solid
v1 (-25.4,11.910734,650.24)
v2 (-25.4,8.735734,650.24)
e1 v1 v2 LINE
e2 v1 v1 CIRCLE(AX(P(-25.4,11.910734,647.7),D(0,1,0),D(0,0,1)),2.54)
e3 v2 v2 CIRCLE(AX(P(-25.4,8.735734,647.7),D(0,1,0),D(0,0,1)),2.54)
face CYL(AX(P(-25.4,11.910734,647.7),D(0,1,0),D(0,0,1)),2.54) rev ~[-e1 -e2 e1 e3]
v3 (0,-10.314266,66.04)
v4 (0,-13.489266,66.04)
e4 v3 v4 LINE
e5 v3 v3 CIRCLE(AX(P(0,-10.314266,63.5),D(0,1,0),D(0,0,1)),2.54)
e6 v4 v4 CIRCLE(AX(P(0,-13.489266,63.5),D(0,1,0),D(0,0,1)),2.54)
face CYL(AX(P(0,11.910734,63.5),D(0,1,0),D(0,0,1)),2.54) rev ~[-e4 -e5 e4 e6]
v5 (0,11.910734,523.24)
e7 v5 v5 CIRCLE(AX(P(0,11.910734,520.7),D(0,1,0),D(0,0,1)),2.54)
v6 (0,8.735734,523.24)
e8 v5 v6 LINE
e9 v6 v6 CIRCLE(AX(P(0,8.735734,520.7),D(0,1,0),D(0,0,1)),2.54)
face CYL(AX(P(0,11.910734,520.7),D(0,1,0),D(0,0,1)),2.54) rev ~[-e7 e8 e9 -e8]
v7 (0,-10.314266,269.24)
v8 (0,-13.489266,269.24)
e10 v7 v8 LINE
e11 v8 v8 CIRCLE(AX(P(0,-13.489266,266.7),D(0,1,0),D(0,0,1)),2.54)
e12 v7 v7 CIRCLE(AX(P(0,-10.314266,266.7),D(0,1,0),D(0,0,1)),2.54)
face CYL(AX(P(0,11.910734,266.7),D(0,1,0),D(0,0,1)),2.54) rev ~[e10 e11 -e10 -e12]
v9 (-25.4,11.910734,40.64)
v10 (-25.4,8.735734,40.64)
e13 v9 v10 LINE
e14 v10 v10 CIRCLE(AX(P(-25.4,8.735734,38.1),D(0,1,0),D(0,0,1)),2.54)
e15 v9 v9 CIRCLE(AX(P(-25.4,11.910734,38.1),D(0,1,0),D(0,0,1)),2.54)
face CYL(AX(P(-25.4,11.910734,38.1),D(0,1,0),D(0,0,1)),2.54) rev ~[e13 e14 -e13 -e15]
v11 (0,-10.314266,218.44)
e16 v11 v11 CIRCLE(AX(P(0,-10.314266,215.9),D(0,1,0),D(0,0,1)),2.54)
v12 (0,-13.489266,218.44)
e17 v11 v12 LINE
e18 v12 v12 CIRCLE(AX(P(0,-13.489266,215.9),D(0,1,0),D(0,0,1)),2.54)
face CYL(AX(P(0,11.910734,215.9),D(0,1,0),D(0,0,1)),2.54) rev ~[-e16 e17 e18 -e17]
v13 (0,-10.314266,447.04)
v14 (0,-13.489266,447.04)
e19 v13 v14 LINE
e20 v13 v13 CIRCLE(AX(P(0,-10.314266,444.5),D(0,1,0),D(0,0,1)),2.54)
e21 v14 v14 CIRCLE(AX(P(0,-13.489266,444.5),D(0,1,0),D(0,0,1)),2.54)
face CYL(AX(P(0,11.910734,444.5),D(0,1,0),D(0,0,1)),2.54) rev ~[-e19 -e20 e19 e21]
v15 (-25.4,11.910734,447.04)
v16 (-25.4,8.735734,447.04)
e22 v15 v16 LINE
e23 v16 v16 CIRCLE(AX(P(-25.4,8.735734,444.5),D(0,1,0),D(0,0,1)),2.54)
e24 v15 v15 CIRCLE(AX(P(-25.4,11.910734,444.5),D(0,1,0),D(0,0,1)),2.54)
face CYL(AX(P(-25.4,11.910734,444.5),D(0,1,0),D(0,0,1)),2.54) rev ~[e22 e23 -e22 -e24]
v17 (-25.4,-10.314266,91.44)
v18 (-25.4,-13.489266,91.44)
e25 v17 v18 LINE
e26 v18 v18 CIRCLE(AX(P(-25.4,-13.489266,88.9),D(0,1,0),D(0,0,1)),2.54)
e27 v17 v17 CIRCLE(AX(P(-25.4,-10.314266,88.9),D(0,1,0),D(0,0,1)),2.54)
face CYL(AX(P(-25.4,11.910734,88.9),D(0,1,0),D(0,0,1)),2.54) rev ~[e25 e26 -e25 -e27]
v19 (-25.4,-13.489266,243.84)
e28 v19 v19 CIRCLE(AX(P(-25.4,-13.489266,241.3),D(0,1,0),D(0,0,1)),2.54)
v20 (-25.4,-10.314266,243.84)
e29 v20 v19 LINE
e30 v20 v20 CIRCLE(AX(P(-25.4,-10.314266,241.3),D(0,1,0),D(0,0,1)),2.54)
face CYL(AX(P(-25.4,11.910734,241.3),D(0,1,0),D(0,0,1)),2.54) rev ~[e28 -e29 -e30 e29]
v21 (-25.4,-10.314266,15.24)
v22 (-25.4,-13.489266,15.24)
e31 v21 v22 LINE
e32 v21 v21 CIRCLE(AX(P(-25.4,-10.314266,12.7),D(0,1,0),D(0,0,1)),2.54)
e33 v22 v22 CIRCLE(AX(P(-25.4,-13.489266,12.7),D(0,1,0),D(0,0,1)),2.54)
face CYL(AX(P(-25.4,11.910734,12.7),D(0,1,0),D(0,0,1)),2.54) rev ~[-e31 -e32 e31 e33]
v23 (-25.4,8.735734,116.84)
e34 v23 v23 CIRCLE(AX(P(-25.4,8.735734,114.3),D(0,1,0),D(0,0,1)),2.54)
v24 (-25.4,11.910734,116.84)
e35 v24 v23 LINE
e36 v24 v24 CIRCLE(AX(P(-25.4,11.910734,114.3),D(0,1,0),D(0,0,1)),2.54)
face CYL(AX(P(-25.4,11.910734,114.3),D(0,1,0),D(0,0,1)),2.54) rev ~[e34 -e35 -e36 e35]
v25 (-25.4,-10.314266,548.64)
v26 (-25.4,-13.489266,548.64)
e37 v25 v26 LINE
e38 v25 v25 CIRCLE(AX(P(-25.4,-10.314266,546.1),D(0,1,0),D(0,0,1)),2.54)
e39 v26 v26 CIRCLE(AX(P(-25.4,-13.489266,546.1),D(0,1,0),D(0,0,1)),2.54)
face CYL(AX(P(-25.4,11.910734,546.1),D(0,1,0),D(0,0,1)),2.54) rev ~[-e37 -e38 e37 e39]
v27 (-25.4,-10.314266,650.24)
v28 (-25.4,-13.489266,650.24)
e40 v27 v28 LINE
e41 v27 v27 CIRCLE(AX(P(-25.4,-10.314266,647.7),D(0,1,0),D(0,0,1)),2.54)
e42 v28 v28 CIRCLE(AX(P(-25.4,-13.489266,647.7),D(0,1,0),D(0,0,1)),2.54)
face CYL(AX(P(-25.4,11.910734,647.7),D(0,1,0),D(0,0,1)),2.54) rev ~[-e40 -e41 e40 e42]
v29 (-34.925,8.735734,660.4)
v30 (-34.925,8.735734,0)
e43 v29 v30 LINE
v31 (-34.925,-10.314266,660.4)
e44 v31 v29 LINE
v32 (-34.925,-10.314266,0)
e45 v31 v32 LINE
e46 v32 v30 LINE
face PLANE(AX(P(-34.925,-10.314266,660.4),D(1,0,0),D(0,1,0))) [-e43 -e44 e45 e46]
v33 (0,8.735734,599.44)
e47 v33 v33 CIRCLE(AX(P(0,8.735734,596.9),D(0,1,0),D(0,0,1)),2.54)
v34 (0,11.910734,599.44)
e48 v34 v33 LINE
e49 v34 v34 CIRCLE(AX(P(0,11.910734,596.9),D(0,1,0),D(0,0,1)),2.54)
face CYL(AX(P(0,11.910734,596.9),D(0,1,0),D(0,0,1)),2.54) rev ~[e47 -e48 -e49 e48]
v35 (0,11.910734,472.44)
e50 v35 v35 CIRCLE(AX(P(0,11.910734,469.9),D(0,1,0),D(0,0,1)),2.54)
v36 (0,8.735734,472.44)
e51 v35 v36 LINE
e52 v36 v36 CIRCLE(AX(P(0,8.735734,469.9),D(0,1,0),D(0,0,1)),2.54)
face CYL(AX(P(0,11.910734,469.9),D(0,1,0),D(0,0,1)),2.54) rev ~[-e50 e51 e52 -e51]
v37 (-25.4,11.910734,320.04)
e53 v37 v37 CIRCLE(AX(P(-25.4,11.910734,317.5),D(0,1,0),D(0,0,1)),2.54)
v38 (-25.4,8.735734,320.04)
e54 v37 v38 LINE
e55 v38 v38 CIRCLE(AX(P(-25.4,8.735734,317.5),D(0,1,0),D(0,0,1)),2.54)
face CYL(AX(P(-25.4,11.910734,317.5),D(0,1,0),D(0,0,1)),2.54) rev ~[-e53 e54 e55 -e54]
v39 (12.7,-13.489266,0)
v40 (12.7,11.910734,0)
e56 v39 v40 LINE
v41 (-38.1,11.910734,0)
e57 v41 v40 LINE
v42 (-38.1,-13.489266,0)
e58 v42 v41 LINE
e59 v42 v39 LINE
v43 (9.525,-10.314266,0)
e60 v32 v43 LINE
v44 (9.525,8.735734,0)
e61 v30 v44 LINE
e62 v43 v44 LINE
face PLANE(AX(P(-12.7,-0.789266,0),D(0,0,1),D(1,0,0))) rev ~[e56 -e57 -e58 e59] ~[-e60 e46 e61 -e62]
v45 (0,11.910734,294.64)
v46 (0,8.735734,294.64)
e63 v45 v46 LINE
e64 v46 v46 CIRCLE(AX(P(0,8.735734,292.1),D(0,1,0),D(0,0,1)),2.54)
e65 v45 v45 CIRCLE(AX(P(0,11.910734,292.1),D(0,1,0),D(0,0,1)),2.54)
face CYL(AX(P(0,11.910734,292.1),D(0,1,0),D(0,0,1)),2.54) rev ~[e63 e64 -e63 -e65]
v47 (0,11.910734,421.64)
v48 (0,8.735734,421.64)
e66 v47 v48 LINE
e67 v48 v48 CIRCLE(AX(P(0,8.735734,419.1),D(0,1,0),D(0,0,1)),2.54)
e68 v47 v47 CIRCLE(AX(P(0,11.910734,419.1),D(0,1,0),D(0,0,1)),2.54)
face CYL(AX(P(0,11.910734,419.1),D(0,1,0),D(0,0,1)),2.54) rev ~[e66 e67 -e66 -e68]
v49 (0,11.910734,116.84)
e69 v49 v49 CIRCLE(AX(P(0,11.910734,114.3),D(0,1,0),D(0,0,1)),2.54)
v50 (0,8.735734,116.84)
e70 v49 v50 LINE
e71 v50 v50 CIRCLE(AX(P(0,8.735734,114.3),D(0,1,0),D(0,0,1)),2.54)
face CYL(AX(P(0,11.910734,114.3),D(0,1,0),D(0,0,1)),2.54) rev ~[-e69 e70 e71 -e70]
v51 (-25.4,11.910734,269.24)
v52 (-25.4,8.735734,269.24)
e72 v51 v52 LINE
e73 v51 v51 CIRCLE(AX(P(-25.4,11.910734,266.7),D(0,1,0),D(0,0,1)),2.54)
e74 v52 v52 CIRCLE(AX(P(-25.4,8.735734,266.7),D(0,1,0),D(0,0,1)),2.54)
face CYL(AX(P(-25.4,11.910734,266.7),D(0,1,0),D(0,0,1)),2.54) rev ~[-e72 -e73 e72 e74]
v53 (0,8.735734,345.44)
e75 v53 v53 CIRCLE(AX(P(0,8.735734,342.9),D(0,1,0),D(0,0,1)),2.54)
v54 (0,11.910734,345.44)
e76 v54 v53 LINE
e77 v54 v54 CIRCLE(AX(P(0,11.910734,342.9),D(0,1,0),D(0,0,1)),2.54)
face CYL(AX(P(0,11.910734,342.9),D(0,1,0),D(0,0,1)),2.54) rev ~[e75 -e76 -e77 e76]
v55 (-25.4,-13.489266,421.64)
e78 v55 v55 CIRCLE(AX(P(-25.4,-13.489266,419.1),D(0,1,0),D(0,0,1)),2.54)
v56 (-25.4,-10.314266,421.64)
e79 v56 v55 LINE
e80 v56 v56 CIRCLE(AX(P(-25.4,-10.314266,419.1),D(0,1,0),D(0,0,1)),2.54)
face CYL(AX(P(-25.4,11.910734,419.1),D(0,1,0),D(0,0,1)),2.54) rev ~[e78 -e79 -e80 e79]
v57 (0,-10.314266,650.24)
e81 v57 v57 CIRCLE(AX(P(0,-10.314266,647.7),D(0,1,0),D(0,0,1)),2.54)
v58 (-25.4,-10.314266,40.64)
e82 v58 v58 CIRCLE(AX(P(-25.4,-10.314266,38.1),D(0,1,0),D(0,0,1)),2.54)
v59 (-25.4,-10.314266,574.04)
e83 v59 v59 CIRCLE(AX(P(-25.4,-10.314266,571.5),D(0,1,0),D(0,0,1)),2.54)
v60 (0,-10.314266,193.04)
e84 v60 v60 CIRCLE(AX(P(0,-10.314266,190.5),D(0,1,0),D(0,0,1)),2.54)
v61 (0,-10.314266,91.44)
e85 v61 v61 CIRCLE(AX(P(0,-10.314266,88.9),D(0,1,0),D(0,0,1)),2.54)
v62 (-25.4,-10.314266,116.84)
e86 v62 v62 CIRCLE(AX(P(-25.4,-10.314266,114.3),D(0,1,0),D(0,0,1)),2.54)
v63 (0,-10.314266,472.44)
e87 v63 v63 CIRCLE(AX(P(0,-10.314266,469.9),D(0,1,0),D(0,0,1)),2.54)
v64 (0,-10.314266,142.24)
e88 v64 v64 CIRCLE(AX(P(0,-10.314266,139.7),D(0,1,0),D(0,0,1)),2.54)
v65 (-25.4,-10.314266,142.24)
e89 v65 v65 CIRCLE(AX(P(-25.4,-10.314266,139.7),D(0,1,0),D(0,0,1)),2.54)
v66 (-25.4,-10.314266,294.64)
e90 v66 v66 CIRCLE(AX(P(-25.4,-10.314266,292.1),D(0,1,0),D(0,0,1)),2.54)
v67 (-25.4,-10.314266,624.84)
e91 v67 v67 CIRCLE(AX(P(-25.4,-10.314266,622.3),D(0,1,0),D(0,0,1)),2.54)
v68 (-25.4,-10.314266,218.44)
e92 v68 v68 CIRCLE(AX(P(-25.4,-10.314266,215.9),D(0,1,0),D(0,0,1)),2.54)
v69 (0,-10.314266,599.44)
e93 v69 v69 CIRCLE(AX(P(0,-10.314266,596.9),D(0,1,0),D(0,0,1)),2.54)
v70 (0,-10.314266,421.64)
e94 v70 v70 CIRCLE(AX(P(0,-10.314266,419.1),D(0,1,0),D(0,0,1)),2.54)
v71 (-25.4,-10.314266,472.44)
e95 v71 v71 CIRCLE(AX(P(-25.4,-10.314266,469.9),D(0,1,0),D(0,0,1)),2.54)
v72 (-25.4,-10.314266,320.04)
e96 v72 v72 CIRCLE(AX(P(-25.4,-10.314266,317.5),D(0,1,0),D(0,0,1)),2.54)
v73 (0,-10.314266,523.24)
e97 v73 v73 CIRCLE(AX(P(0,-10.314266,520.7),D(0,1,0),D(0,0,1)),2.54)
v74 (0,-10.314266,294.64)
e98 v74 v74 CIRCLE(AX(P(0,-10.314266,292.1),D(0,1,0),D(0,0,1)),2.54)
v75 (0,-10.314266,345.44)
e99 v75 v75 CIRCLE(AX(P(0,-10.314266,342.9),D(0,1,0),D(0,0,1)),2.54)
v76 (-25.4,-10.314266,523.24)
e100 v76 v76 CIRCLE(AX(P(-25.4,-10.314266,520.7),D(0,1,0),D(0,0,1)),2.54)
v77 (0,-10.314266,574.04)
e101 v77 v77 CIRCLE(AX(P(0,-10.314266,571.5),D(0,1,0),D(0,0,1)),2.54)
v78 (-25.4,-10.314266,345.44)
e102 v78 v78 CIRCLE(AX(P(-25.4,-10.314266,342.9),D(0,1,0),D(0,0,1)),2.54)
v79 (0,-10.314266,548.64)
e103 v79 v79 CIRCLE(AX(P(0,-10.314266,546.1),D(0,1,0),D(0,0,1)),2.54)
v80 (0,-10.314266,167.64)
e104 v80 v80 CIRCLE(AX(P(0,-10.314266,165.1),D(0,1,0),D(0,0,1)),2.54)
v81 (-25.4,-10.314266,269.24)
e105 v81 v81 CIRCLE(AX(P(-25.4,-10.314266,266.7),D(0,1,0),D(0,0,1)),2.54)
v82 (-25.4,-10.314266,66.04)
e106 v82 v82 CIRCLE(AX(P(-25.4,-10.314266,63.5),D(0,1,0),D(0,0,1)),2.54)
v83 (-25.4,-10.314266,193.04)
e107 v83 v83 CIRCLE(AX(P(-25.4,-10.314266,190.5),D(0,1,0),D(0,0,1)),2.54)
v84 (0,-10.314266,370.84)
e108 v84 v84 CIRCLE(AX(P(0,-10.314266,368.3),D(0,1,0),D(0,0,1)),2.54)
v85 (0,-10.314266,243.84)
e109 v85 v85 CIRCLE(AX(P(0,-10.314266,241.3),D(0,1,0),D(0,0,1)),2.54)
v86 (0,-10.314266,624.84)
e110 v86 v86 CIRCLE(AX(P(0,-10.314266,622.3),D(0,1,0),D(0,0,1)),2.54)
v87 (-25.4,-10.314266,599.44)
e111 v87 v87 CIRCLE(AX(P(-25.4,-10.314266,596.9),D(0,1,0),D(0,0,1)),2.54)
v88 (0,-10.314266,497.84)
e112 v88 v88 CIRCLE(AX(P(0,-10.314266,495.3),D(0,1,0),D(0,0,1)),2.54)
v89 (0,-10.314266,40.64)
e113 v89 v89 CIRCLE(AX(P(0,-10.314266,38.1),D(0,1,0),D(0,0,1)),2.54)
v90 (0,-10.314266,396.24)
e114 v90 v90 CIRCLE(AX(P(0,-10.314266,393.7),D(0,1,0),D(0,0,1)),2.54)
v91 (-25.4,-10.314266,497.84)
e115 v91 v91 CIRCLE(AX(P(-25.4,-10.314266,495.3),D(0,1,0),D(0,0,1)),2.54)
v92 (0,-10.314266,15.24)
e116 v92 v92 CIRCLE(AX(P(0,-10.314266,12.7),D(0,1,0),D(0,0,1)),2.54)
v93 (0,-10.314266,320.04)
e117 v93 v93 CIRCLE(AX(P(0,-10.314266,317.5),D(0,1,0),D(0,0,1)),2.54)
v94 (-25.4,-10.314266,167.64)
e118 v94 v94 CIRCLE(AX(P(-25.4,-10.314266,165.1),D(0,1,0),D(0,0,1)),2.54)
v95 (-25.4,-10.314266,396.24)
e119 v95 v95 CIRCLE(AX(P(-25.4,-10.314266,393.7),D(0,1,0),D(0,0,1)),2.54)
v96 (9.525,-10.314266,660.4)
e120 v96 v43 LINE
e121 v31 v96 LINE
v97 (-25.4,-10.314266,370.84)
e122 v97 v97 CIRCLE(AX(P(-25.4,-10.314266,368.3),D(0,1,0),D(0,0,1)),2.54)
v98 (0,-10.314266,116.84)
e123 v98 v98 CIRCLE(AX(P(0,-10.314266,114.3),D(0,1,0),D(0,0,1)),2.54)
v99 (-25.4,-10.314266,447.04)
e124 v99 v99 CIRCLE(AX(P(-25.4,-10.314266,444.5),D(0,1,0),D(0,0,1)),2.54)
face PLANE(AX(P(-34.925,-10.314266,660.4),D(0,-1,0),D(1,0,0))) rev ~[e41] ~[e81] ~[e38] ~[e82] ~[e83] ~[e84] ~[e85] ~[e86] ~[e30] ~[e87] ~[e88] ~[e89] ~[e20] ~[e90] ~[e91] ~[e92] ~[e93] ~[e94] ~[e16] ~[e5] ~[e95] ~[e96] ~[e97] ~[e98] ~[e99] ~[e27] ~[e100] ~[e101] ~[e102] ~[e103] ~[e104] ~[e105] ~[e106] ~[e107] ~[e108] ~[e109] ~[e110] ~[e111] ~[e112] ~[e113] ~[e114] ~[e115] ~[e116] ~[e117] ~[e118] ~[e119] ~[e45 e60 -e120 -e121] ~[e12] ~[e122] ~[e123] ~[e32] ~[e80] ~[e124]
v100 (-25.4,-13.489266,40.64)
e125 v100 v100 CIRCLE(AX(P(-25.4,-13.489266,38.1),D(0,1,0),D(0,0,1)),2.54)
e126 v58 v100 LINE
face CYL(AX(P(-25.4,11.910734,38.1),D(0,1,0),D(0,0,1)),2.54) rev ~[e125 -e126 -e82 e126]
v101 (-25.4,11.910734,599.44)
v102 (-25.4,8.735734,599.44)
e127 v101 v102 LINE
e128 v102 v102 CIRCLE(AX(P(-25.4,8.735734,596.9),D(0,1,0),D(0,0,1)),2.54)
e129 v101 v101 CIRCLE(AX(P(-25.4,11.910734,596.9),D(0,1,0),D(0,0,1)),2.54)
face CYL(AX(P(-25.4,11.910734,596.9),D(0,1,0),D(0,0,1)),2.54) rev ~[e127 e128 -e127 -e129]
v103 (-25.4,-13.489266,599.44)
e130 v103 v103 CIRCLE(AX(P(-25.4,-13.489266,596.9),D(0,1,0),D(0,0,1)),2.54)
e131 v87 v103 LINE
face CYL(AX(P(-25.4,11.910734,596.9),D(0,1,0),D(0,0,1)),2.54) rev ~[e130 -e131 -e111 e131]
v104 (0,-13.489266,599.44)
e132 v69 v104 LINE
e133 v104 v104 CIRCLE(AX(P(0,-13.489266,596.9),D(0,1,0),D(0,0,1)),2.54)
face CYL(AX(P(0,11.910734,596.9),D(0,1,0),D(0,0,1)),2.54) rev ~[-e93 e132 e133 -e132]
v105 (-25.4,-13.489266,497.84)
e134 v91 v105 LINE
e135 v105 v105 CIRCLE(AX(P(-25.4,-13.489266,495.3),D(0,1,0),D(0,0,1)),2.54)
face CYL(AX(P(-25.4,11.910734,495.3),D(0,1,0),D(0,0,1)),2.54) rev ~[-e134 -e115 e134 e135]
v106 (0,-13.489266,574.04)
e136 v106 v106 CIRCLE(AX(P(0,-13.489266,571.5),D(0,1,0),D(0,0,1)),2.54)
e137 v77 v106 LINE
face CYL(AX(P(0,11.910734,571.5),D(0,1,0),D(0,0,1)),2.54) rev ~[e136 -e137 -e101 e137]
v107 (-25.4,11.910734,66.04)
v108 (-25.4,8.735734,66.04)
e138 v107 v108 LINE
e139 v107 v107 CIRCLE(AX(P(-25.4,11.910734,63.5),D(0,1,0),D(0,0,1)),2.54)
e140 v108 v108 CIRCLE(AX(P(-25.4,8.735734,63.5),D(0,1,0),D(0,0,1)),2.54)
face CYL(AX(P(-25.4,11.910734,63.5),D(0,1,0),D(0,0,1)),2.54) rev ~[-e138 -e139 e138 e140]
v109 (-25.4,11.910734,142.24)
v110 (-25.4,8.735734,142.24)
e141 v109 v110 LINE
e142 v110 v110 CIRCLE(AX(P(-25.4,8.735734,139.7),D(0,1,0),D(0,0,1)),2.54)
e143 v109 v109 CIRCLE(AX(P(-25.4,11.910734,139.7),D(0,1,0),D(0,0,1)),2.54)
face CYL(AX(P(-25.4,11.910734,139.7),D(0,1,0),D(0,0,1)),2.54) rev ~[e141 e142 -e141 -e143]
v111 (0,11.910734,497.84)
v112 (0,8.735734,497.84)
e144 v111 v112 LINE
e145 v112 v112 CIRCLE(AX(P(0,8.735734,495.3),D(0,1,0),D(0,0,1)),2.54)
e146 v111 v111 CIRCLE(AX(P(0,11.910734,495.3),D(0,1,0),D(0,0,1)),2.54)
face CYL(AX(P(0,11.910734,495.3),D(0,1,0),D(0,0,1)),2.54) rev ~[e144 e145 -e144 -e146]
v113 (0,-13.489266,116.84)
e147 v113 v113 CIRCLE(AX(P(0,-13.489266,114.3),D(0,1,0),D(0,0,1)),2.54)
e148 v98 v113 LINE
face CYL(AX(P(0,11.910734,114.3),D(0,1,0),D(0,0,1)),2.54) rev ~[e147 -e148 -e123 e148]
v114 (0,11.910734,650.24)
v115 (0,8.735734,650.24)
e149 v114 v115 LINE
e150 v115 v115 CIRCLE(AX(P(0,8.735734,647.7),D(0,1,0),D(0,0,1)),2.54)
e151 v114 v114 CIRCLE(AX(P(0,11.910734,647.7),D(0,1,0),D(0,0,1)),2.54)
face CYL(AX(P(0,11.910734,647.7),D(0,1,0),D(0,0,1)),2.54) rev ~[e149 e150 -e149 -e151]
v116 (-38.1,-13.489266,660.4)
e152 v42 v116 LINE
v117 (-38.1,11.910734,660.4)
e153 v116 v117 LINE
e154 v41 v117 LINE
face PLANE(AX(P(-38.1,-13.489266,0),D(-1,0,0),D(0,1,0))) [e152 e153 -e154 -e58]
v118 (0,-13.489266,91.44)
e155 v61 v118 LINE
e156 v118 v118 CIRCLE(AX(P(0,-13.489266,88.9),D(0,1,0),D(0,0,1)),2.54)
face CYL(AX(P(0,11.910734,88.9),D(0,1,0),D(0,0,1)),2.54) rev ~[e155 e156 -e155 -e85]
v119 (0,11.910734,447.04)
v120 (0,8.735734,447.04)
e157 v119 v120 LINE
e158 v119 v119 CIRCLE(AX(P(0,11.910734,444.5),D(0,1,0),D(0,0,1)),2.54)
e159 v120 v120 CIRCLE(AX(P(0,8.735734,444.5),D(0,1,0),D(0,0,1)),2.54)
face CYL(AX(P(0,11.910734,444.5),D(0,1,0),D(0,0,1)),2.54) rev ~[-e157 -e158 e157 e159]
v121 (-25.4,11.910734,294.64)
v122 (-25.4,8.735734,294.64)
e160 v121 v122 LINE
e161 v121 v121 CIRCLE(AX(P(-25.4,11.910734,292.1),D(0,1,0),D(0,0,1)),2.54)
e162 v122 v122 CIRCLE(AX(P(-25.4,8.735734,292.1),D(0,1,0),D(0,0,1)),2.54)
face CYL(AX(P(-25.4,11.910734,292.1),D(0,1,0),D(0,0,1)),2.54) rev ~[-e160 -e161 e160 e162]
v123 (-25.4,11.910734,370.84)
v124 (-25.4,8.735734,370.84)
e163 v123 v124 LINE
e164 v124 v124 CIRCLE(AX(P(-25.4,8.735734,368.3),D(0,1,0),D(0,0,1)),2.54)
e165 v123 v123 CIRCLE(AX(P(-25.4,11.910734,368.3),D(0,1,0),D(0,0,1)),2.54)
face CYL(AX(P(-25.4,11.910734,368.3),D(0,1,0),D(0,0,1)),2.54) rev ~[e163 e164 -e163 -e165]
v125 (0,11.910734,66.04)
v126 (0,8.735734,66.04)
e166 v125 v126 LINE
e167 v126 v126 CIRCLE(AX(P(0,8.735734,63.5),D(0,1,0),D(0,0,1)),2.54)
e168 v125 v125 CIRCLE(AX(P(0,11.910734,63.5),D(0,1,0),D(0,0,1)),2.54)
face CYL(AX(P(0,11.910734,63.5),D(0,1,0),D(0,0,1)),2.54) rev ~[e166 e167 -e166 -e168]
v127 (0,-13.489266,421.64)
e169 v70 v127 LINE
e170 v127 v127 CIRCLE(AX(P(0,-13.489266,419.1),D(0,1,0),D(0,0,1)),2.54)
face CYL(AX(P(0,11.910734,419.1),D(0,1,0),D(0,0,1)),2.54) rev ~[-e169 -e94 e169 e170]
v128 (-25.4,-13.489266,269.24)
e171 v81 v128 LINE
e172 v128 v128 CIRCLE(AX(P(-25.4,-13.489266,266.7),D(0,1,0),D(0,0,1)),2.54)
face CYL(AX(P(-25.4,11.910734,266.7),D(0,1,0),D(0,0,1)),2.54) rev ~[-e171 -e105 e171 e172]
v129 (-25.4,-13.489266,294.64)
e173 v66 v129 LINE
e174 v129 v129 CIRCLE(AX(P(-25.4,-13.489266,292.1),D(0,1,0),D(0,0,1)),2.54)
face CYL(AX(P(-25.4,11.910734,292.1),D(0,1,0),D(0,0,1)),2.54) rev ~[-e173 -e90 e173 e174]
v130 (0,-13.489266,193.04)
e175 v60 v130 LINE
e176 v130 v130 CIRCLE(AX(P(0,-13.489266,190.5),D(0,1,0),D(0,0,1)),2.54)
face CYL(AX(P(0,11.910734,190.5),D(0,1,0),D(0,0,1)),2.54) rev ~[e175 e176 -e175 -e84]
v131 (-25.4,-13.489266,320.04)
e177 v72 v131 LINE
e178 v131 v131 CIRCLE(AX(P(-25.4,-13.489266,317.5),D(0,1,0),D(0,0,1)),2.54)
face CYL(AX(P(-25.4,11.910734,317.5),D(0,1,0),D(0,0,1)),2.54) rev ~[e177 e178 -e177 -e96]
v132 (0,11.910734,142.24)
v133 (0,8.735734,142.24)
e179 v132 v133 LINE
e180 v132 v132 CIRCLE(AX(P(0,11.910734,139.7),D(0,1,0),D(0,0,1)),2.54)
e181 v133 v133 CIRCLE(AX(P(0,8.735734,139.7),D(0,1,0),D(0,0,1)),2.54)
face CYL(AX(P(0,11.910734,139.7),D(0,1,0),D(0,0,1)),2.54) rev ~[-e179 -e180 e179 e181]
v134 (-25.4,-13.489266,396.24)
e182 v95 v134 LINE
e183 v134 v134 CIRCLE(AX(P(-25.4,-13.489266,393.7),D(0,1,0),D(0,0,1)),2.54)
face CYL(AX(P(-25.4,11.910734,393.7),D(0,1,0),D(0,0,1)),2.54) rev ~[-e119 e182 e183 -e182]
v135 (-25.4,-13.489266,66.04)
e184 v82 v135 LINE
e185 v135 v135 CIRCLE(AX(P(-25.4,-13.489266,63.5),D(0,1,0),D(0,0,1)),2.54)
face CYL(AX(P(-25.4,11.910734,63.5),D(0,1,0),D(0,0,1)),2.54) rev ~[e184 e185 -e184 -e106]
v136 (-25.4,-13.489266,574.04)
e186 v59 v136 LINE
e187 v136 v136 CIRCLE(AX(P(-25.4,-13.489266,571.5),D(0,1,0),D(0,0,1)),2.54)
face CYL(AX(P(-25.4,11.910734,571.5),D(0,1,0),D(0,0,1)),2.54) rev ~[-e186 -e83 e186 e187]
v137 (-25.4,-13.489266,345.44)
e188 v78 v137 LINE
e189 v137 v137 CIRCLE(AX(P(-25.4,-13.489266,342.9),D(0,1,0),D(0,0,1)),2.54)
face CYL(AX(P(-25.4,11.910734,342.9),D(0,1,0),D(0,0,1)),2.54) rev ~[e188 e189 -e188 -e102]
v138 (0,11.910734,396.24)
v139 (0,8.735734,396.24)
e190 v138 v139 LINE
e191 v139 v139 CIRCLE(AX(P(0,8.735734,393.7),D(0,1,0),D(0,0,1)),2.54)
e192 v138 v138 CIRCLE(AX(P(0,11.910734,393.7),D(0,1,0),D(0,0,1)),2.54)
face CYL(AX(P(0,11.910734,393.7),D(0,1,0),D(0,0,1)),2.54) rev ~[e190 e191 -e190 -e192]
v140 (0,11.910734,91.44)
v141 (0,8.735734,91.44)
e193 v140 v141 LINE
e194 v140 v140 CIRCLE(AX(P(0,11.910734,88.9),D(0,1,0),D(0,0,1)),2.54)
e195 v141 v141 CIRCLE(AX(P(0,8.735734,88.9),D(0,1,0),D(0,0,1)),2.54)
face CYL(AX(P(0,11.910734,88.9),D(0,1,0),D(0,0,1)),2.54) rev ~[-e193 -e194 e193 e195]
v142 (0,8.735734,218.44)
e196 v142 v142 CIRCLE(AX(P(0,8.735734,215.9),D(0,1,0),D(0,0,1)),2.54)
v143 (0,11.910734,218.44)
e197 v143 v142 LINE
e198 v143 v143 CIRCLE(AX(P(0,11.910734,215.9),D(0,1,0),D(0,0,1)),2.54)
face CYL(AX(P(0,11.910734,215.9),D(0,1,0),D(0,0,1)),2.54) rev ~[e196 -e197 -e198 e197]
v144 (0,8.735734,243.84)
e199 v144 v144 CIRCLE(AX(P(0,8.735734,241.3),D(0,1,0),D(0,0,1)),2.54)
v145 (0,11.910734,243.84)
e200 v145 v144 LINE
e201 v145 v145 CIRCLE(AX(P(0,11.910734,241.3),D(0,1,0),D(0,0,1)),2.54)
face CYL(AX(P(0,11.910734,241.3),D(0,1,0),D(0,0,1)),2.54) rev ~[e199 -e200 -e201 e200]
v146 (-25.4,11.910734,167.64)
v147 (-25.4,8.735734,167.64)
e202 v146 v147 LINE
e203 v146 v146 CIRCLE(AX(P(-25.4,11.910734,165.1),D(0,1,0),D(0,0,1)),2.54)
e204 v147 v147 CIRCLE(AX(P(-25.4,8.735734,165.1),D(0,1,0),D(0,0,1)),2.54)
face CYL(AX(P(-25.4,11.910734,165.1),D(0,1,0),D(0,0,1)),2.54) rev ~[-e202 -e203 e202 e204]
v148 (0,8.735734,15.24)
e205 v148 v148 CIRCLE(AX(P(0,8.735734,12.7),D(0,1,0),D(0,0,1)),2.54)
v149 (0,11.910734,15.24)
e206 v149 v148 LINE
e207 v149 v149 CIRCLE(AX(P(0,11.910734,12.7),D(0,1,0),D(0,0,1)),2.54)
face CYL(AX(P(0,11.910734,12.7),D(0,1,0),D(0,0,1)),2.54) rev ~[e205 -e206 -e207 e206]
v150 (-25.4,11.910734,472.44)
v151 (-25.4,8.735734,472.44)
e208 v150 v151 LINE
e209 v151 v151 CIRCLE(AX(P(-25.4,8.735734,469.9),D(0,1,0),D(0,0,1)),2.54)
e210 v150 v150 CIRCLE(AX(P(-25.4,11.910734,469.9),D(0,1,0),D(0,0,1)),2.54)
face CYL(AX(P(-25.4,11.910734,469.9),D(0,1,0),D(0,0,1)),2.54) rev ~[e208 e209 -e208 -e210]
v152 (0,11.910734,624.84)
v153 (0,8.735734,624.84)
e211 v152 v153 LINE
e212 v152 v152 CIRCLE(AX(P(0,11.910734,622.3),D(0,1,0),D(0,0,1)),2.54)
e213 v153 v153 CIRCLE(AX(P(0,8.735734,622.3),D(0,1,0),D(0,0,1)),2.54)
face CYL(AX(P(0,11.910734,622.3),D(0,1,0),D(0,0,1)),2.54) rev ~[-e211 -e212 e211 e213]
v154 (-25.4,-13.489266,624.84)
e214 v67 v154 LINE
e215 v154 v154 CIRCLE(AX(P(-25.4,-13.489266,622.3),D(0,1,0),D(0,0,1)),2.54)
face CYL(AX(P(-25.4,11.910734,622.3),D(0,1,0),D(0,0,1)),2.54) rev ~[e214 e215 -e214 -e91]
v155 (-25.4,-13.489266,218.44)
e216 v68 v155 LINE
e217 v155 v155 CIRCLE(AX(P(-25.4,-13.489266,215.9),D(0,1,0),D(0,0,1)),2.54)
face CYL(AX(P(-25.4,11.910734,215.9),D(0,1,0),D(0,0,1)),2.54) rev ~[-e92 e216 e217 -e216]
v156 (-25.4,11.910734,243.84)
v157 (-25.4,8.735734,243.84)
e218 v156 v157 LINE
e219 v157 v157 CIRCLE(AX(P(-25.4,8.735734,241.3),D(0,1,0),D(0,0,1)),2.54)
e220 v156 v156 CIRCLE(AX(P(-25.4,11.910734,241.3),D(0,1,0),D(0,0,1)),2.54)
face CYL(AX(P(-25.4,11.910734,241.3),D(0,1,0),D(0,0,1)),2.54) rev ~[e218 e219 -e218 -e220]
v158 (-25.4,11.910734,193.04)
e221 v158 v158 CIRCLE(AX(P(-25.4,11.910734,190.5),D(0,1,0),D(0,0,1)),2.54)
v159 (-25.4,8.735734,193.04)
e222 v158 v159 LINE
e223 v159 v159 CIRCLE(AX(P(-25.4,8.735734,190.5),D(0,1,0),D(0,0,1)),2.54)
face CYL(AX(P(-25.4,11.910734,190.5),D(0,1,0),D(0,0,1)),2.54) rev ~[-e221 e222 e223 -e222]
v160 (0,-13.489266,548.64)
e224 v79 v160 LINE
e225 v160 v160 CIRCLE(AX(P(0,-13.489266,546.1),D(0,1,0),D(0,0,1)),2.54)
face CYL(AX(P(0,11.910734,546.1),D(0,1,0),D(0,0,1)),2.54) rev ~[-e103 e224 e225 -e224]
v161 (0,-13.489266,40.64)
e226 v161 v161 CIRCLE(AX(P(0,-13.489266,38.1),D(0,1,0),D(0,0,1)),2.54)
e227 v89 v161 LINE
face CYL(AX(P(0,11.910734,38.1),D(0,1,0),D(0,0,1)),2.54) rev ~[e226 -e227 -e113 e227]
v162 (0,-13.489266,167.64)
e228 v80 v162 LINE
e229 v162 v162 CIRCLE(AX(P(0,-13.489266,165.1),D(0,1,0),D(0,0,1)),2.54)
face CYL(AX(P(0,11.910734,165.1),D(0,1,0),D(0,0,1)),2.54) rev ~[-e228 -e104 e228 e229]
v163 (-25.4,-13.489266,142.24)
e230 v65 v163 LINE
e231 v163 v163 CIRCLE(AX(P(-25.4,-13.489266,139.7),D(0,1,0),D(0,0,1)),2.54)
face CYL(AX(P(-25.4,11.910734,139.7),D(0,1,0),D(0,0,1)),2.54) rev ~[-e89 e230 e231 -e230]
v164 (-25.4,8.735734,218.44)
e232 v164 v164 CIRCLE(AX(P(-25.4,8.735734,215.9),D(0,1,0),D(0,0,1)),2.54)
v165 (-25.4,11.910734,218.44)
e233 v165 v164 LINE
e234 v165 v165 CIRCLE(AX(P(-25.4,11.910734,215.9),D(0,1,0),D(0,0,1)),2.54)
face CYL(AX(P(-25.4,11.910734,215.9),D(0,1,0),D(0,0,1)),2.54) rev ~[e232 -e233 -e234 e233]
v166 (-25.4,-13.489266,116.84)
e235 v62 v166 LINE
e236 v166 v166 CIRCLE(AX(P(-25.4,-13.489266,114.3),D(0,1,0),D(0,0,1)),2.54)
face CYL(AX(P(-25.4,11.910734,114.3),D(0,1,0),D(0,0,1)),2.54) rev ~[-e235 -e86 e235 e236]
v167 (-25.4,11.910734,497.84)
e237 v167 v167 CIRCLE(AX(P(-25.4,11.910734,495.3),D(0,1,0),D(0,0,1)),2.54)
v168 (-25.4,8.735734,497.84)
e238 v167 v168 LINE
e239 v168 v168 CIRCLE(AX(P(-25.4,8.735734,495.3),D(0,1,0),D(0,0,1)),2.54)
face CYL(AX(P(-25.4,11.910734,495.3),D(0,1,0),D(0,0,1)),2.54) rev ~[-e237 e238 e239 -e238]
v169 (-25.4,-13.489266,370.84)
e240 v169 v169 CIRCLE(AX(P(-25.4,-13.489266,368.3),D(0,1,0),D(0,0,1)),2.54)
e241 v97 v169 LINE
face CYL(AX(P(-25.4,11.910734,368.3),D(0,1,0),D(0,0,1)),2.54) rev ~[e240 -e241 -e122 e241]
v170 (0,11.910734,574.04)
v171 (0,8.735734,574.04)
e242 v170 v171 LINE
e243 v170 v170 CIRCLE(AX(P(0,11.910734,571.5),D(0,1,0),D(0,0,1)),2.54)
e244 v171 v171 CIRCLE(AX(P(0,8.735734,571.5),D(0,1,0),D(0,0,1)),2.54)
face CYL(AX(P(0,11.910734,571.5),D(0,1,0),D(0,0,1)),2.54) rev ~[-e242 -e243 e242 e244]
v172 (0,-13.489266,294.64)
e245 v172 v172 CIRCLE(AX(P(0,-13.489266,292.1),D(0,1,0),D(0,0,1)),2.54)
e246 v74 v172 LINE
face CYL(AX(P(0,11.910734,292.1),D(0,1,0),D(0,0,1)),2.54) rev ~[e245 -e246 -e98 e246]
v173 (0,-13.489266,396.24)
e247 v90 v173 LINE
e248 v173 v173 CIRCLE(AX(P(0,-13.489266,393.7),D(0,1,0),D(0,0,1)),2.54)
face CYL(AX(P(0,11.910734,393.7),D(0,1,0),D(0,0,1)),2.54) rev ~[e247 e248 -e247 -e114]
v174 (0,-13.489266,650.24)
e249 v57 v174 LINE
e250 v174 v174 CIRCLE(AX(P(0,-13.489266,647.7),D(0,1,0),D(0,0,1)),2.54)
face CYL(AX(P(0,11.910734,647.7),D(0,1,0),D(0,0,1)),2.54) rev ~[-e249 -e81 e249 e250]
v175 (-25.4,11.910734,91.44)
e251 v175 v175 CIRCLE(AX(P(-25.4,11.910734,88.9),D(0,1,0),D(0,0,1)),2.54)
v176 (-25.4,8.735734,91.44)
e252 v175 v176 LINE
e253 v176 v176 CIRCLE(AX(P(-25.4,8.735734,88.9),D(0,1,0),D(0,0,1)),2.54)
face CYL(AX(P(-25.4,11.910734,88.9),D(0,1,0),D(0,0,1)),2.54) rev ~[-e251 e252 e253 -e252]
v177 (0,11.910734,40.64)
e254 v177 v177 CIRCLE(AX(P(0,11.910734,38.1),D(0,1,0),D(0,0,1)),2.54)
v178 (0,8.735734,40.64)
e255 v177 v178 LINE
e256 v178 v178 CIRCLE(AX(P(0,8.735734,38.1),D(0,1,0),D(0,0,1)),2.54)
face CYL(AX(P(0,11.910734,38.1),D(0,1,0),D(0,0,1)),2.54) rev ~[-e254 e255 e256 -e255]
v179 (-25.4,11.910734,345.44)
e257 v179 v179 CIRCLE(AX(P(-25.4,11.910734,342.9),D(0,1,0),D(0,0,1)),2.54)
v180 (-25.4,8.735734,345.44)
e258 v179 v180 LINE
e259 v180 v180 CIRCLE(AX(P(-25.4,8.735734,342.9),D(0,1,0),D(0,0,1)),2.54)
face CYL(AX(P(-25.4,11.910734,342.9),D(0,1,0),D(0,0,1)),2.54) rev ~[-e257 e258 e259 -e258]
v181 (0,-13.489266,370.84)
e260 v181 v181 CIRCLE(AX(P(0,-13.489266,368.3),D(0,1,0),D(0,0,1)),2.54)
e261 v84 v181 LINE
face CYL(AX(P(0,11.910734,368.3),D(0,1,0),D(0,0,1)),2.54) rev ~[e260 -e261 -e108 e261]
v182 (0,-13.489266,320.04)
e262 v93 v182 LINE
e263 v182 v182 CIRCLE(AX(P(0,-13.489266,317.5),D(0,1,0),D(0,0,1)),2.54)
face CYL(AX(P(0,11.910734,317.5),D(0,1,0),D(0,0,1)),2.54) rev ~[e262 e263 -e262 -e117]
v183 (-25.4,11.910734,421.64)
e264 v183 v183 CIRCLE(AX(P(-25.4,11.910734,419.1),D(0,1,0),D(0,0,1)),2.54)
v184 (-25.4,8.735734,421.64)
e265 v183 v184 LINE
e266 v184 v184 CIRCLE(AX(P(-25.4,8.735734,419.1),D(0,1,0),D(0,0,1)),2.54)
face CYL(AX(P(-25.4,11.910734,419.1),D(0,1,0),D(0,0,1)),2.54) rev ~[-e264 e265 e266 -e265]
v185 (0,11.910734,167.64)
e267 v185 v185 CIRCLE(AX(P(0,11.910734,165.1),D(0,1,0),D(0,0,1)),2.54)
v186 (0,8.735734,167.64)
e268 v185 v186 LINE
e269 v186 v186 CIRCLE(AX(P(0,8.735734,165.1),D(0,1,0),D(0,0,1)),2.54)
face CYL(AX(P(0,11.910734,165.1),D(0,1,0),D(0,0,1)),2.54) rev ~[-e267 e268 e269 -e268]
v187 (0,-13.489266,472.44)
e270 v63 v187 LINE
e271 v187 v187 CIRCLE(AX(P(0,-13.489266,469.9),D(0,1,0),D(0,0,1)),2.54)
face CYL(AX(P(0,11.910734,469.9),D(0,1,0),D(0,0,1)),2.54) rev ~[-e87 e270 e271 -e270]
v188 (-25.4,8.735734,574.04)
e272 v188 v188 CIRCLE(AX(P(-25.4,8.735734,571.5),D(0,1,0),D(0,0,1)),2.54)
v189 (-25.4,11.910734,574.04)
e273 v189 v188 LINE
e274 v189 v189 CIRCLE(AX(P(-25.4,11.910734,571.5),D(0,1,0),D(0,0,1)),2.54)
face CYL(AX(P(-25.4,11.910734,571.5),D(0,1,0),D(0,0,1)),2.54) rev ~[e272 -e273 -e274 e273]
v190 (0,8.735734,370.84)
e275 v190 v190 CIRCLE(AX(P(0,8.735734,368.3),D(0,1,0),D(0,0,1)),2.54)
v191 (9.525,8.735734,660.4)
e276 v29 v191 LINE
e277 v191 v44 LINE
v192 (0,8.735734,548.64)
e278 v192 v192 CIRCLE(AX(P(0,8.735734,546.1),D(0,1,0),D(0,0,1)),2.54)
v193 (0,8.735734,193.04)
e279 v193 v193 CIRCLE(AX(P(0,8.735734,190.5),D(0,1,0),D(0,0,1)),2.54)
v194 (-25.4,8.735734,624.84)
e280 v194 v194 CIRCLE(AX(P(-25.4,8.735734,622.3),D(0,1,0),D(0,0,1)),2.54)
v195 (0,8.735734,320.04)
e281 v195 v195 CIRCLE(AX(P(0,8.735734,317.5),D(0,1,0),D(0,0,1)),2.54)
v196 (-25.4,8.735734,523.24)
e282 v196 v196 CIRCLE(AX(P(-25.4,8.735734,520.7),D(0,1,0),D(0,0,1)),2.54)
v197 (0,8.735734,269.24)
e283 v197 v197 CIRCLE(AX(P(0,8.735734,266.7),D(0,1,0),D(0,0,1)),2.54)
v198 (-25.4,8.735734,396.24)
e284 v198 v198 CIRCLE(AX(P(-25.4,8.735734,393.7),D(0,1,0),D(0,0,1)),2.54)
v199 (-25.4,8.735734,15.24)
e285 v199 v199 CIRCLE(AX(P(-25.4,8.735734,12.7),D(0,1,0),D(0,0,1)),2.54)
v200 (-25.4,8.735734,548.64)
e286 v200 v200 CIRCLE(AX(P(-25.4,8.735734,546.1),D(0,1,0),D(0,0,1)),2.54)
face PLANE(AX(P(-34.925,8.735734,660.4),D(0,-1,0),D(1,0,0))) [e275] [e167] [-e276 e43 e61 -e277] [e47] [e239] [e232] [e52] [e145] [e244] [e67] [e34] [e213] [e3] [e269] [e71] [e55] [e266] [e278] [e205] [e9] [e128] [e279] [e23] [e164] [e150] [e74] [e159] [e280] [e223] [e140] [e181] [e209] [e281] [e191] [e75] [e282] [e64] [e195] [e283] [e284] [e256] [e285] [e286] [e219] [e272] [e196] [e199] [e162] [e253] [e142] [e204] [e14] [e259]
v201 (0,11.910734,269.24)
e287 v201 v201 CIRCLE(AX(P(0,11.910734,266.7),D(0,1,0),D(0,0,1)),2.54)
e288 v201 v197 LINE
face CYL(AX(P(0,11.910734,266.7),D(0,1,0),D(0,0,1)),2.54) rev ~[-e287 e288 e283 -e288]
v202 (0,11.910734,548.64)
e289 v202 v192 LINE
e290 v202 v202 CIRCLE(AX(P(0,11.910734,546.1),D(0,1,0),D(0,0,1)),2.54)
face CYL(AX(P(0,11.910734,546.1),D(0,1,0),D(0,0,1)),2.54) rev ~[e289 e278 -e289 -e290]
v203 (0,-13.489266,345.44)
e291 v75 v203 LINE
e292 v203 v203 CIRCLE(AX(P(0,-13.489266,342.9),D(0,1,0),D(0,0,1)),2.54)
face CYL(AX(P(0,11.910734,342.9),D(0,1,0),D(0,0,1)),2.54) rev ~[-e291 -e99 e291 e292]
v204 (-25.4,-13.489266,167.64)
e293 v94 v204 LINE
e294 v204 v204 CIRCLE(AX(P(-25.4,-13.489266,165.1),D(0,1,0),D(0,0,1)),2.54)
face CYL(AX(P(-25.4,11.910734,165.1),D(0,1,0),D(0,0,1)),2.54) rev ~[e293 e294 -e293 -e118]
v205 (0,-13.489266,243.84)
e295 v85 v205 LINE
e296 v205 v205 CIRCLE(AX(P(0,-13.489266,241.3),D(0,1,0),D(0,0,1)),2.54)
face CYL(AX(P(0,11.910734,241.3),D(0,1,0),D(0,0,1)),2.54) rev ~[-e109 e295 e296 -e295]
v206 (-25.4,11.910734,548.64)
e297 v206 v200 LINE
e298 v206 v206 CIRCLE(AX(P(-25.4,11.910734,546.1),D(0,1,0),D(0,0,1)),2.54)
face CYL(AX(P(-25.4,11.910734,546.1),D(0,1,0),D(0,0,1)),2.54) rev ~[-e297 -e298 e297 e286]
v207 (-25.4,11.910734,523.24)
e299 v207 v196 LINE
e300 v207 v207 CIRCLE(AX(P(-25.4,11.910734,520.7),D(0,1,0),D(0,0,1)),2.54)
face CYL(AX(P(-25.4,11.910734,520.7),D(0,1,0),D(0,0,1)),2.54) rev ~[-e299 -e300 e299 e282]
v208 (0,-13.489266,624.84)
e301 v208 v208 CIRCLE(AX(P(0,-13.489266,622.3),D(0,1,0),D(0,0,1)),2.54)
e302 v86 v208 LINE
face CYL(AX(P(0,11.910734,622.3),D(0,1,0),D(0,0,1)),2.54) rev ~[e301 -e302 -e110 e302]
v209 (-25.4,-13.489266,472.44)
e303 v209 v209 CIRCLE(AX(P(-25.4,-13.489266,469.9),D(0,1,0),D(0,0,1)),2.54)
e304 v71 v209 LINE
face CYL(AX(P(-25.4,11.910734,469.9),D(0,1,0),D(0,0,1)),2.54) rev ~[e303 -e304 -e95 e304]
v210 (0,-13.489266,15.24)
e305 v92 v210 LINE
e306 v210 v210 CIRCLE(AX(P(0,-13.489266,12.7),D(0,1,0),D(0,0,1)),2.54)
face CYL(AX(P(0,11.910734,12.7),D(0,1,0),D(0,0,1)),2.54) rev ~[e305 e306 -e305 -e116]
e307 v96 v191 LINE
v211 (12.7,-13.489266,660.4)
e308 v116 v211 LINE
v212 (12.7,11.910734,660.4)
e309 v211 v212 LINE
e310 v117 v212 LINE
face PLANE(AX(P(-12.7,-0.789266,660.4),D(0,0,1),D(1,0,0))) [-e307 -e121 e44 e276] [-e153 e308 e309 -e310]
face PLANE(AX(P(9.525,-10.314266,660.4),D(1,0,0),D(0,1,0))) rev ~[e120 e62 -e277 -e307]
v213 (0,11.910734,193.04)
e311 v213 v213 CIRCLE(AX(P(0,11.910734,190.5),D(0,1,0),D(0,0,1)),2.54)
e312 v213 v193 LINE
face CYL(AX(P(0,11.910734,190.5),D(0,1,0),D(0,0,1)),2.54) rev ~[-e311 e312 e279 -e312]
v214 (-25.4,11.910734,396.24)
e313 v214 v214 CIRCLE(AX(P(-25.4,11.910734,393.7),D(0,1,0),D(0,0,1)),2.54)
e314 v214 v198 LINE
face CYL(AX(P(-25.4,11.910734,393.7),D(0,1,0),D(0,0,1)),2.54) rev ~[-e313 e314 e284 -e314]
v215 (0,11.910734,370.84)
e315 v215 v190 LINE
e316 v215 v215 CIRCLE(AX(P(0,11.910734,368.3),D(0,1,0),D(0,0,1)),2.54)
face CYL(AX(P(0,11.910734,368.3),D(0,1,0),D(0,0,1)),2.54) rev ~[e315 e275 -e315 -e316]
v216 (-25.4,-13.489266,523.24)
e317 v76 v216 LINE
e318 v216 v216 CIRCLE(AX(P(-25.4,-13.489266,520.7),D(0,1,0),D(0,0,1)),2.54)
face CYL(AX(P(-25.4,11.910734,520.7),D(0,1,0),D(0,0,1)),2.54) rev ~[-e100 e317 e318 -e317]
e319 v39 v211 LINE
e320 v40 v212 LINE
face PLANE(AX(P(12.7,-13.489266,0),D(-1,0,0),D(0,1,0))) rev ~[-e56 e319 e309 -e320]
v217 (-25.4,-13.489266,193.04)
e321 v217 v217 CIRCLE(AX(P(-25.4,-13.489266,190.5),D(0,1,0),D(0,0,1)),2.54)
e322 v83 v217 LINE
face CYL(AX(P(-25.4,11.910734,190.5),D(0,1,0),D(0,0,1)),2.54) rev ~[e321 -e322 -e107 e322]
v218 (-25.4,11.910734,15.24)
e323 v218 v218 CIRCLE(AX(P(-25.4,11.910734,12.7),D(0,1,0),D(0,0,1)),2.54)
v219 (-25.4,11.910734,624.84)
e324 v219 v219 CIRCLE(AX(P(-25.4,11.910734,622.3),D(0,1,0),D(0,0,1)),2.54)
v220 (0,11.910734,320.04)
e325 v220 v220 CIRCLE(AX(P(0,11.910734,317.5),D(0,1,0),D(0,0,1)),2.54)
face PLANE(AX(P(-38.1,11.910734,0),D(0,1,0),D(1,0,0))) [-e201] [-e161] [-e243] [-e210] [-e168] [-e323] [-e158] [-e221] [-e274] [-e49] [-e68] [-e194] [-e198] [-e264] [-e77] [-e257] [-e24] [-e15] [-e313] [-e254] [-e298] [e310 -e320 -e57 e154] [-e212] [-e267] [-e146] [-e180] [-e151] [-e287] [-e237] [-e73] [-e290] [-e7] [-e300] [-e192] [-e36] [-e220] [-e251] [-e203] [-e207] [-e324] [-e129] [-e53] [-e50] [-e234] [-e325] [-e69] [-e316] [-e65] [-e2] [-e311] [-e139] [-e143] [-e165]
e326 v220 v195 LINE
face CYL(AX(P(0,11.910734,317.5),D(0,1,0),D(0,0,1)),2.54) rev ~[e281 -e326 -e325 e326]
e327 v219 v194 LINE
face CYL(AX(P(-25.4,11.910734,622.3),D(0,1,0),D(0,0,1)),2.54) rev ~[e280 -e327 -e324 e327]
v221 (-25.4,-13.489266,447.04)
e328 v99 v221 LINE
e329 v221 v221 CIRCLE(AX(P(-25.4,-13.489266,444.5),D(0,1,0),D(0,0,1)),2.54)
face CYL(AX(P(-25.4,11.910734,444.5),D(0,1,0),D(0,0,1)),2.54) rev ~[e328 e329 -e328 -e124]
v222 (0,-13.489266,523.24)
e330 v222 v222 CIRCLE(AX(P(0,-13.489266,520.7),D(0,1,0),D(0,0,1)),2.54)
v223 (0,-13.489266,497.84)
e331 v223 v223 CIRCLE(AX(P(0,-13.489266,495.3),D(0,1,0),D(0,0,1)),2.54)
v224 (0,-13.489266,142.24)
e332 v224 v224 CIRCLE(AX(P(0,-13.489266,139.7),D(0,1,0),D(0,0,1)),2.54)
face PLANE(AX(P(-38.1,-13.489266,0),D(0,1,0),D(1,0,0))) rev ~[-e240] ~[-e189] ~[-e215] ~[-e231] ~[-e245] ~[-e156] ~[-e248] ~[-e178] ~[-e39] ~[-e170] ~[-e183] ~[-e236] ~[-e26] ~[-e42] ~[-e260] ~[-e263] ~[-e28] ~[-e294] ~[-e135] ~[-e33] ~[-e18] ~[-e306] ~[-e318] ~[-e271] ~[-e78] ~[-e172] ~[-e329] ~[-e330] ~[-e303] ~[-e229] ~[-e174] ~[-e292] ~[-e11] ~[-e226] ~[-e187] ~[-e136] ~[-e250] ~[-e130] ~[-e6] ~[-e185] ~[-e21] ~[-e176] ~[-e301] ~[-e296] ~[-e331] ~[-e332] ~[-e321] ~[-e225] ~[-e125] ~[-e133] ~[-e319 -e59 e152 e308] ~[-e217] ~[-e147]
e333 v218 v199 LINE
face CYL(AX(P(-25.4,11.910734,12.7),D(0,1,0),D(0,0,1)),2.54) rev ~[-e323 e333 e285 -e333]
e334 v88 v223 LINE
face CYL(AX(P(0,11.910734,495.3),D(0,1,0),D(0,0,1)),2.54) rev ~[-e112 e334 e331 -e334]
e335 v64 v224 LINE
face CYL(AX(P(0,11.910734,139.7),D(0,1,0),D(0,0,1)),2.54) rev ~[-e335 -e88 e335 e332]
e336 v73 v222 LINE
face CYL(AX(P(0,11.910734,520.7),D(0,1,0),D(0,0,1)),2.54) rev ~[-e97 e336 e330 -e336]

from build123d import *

# Parameters (mm, degrees)
SKETCH1_W           = 50.8
SKETCH1_H           = 25.4
BOSS_EXTRUDE1_DEPTH = 660.4
SKETCH2_W           = 44.45
SKETCH2_H           = 19.05
CUT_EXTRUDE1_DEPTH  = 660.4
SKETCH3_R           = 2.54
CUT_EXTRUDE2_DEPTH  = 25.4


with BuildPart() as part:
    # Sketch1 → Boss-Extrude1 (new body)
    with BuildSketch(Plane.XY):
        with Locations((-12.7, -0.789265537)):
            Rectangle(SKETCH1_W, SKETCH1_H)
    extrude(amount=BOSS_EXTRUDE1_DEPTH)

    # Sketch2 → Cut-Extrude1 (cut)
    with BuildSketch(Plane.XY.offset(660.4)):
        with Locations((-12.7, -0.789265537)):
            Rectangle(SKETCH2_W, SKETCH2_H)
    extrude(amount=-CUT_EXTRUDE1_DEPTH, mode=Mode.SUBTRACT)

    # Sketch3 → Cut-Extrude2 (cut)
    with BuildSketch(Plane(origin=(0, 11.910734463, 0), x_dir=(1, 0, 0), z_dir=(0, 1, 0))):
        with Locations(Location((-25.4, -647.7, 0), (0, 0, 270))):
            Circle(SKETCH3_R)
        with Locations(Location((0, -647.7, 0), (0, 0, 270))):
            Circle(SKETCH3_R)
        with Locations(Location((0, -622.3, 0), (0, 0, 270))):
            Circle(SKETCH3_R)
        with Locations(Location((0, -596.9, 0), (0, 0, 270))):
            Circle(SKETCH3_R)
        with Locations(Location((0, -571.5, 0), (0, 0, 270))):
            Circle(SKETCH3_R)
        with Locations(Location((0, -546.1, 0), (0, 0, 270))):
            Circle(SKETCH3_R)
        with Locations(Location((0, -520.7, 0), (0, 0, 270))):
            Circle(SKETCH3_R)
        with Locations(Location((0, -495.3, 0), (0, 0, 270))):
            Circle(SKETCH3_R)
        with Locations(Location((0, -469.9, 0), (0, 0, 270))):
            Circle(SKETCH3_R)
        with Locations(Location((0, -444.5, 0), (0, 0, 270))):
            Circle(SKETCH3_R)
        with Locations(Location((0, -419.1, 0), (0, 0, 270))):
            Circle(SKETCH3_R)
        with Locations(Location((0, -393.7, 0), (0, 0, 270))):
            Circle(SKETCH3_R)
        with Locations(Location((0, -368.3, 0), (0, 0, 270))):
            Circle(SKETCH3_R)
        with Locations(Location((0, -342.9, 0), (0, 0, 270))):
            Circle(SKETCH3_R)
        with Locations(Location((0, -317.5, 0), (0, 0, 270))):
            Circle(SKETCH3_R)
        with Locations(Location((0, -292.1, 0), (0, 0, 270))):
            Circle(SKETCH3_R)
        with Locations(Location((0, -266.7, 0), (0, 0, 270))):
            Circle(SKETCH3_R)
        with Locations(Location((0, -241.3, 0), (0, 0, 270))):
            Circle(SKETCH3_R)
        with Locations(Location((0, -215.9, 0), (0, 0, 270))):
            Circle(SKETCH3_R)
        with Locations(Location((0, -190.5, 0), (0, 0, 270))):
            Circle(SKETCH3_R)
        with Locations(Location((0, -165.1, 0), (0, 0, 270))):
            Circle(SKETCH3_R)
        with Locations(Location((0, -139.7, 0), (0, 0, 270))):
            Circle(SKETCH3_R)
        with Locations(Location((0, -114.3, 0), (0, 0, 270))):
            Circle(SKETCH3_R)
        with Locations(Location((0, -88.9, 0), (0, 0, 270))):
            Circle(SKETCH3_R)
        with Locations(Location((0, -63.5, 0), (0, 0, 270))):
            Circle(SKETCH3_R)
        with Locations(Location((0, -38.1, 0), (0, 0, 270))):
            Circle(SKETCH3_R)
        with Locations(Location((0, -12.7, 0), (0, 0, 270))):
            Circle(SKETCH3_R)
        with Locations(Location((-25.4, -622.3, 0), (0, 0, 270))):
            Circle(SKETCH3_R)
        with Locations(Location((-25.4, -596.9, 0), (0, 0, 270))):
            Circle(SKETCH3_R)
        with Locations(Location((-25.4, -571.5, 0), (0, 0, 270))):
            Circle(SKETCH3_R)
        with Locations(Location((-25.4, -546.1, 0), (0, 0, 270))):
            Circle(SKETCH3_R)
        with Locations(Location((-25.4, -520.7, 0), (0, 0, 270))):
            Circle(SKETCH3_R)
        with Locations(Location((-25.4, -495.3, 0), (0, 0, 270))):
            Circle(SKETCH3_R)
        with Locations(Location((-25.4, -469.9, 0), (0, 0, 270))):
            Circle(SKETCH3_R)
        with Locations(Location((-25.4, -444.5, 0), (0, 0, 270))):
            Circle(SKETCH3_R)
        with Locations(Location((-25.4, -419.1, 0), (0, 0, 270))):
            Circle(SKETCH3_R)
        with Locations(Location((-25.4, -393.7, 0), (0, 0, 270))):
            Circle(SKETCH3_R)
        with Locations(Location((-25.4, -368.3, 0), (0, 0, 270))):
            Circle(SKETCH3_R)
        with Locations(Location((-25.4, -342.9, 0), (0, 0, 270))):
            Circle(SKETCH3_R)
        with Locations(Location((-25.4, -317.5, 0), (0, 0, 270))):
            Circle(SKETCH3_R)
        with Locations(Location((-25.4, -292.1, 0), (0, 0, 270))):
            Circle(SKETCH3_R)
        with Locations(Location((-25.4, -266.7, 0), (0, 0, 270))):
            Circle(SKETCH3_R)
        with Locations(Location((-25.4, -241.3, 0), (0, 0, 270))):
            Circle(SKETCH3_R)
        with Locations(Location((-25.4, -215.9, 0), (0, 0, 270))):
            Circle(SKETCH3_R)
        with Locations(Location((-25.4, -190.5, 0), (0, 0, 270))):
            Circle(SKETCH3_R)
        with Locations(Location((-25.4, -165.1, 0), (0, 0, 270))):
            Circle(SKETCH3_R)
        with Locations(Location((-25.4, -139.7, 0), (0, 0, 270))):
            Circle(SKETCH3_R)
        with Locations(Location((-25.4, -114.3, 0), (0, 0, 270))):
            Circle(SKETCH3_R)
        with Locations(Location((-25.4, -88.9, 0), (0, 0, 270))):
            Circle(SKETCH3_R)
        with Locations(Location((-25.4, -63.5, 0), (0, 0, 270))):
            Circle(SKETCH3_R)
        with Locations(Location((-25.4, -38.1, 0), (0, 0, 270))):
            Circle(SKETCH3_R)
        with Locations(Location((-25.4, -12.7, 0), (0, 0, 270))):
            Circle(SKETCH3_R)
    extrude(amount=-CUT_EXTRUDE2_DEPTH, mode=Mode.SUBTRACT)


solid = part.part
